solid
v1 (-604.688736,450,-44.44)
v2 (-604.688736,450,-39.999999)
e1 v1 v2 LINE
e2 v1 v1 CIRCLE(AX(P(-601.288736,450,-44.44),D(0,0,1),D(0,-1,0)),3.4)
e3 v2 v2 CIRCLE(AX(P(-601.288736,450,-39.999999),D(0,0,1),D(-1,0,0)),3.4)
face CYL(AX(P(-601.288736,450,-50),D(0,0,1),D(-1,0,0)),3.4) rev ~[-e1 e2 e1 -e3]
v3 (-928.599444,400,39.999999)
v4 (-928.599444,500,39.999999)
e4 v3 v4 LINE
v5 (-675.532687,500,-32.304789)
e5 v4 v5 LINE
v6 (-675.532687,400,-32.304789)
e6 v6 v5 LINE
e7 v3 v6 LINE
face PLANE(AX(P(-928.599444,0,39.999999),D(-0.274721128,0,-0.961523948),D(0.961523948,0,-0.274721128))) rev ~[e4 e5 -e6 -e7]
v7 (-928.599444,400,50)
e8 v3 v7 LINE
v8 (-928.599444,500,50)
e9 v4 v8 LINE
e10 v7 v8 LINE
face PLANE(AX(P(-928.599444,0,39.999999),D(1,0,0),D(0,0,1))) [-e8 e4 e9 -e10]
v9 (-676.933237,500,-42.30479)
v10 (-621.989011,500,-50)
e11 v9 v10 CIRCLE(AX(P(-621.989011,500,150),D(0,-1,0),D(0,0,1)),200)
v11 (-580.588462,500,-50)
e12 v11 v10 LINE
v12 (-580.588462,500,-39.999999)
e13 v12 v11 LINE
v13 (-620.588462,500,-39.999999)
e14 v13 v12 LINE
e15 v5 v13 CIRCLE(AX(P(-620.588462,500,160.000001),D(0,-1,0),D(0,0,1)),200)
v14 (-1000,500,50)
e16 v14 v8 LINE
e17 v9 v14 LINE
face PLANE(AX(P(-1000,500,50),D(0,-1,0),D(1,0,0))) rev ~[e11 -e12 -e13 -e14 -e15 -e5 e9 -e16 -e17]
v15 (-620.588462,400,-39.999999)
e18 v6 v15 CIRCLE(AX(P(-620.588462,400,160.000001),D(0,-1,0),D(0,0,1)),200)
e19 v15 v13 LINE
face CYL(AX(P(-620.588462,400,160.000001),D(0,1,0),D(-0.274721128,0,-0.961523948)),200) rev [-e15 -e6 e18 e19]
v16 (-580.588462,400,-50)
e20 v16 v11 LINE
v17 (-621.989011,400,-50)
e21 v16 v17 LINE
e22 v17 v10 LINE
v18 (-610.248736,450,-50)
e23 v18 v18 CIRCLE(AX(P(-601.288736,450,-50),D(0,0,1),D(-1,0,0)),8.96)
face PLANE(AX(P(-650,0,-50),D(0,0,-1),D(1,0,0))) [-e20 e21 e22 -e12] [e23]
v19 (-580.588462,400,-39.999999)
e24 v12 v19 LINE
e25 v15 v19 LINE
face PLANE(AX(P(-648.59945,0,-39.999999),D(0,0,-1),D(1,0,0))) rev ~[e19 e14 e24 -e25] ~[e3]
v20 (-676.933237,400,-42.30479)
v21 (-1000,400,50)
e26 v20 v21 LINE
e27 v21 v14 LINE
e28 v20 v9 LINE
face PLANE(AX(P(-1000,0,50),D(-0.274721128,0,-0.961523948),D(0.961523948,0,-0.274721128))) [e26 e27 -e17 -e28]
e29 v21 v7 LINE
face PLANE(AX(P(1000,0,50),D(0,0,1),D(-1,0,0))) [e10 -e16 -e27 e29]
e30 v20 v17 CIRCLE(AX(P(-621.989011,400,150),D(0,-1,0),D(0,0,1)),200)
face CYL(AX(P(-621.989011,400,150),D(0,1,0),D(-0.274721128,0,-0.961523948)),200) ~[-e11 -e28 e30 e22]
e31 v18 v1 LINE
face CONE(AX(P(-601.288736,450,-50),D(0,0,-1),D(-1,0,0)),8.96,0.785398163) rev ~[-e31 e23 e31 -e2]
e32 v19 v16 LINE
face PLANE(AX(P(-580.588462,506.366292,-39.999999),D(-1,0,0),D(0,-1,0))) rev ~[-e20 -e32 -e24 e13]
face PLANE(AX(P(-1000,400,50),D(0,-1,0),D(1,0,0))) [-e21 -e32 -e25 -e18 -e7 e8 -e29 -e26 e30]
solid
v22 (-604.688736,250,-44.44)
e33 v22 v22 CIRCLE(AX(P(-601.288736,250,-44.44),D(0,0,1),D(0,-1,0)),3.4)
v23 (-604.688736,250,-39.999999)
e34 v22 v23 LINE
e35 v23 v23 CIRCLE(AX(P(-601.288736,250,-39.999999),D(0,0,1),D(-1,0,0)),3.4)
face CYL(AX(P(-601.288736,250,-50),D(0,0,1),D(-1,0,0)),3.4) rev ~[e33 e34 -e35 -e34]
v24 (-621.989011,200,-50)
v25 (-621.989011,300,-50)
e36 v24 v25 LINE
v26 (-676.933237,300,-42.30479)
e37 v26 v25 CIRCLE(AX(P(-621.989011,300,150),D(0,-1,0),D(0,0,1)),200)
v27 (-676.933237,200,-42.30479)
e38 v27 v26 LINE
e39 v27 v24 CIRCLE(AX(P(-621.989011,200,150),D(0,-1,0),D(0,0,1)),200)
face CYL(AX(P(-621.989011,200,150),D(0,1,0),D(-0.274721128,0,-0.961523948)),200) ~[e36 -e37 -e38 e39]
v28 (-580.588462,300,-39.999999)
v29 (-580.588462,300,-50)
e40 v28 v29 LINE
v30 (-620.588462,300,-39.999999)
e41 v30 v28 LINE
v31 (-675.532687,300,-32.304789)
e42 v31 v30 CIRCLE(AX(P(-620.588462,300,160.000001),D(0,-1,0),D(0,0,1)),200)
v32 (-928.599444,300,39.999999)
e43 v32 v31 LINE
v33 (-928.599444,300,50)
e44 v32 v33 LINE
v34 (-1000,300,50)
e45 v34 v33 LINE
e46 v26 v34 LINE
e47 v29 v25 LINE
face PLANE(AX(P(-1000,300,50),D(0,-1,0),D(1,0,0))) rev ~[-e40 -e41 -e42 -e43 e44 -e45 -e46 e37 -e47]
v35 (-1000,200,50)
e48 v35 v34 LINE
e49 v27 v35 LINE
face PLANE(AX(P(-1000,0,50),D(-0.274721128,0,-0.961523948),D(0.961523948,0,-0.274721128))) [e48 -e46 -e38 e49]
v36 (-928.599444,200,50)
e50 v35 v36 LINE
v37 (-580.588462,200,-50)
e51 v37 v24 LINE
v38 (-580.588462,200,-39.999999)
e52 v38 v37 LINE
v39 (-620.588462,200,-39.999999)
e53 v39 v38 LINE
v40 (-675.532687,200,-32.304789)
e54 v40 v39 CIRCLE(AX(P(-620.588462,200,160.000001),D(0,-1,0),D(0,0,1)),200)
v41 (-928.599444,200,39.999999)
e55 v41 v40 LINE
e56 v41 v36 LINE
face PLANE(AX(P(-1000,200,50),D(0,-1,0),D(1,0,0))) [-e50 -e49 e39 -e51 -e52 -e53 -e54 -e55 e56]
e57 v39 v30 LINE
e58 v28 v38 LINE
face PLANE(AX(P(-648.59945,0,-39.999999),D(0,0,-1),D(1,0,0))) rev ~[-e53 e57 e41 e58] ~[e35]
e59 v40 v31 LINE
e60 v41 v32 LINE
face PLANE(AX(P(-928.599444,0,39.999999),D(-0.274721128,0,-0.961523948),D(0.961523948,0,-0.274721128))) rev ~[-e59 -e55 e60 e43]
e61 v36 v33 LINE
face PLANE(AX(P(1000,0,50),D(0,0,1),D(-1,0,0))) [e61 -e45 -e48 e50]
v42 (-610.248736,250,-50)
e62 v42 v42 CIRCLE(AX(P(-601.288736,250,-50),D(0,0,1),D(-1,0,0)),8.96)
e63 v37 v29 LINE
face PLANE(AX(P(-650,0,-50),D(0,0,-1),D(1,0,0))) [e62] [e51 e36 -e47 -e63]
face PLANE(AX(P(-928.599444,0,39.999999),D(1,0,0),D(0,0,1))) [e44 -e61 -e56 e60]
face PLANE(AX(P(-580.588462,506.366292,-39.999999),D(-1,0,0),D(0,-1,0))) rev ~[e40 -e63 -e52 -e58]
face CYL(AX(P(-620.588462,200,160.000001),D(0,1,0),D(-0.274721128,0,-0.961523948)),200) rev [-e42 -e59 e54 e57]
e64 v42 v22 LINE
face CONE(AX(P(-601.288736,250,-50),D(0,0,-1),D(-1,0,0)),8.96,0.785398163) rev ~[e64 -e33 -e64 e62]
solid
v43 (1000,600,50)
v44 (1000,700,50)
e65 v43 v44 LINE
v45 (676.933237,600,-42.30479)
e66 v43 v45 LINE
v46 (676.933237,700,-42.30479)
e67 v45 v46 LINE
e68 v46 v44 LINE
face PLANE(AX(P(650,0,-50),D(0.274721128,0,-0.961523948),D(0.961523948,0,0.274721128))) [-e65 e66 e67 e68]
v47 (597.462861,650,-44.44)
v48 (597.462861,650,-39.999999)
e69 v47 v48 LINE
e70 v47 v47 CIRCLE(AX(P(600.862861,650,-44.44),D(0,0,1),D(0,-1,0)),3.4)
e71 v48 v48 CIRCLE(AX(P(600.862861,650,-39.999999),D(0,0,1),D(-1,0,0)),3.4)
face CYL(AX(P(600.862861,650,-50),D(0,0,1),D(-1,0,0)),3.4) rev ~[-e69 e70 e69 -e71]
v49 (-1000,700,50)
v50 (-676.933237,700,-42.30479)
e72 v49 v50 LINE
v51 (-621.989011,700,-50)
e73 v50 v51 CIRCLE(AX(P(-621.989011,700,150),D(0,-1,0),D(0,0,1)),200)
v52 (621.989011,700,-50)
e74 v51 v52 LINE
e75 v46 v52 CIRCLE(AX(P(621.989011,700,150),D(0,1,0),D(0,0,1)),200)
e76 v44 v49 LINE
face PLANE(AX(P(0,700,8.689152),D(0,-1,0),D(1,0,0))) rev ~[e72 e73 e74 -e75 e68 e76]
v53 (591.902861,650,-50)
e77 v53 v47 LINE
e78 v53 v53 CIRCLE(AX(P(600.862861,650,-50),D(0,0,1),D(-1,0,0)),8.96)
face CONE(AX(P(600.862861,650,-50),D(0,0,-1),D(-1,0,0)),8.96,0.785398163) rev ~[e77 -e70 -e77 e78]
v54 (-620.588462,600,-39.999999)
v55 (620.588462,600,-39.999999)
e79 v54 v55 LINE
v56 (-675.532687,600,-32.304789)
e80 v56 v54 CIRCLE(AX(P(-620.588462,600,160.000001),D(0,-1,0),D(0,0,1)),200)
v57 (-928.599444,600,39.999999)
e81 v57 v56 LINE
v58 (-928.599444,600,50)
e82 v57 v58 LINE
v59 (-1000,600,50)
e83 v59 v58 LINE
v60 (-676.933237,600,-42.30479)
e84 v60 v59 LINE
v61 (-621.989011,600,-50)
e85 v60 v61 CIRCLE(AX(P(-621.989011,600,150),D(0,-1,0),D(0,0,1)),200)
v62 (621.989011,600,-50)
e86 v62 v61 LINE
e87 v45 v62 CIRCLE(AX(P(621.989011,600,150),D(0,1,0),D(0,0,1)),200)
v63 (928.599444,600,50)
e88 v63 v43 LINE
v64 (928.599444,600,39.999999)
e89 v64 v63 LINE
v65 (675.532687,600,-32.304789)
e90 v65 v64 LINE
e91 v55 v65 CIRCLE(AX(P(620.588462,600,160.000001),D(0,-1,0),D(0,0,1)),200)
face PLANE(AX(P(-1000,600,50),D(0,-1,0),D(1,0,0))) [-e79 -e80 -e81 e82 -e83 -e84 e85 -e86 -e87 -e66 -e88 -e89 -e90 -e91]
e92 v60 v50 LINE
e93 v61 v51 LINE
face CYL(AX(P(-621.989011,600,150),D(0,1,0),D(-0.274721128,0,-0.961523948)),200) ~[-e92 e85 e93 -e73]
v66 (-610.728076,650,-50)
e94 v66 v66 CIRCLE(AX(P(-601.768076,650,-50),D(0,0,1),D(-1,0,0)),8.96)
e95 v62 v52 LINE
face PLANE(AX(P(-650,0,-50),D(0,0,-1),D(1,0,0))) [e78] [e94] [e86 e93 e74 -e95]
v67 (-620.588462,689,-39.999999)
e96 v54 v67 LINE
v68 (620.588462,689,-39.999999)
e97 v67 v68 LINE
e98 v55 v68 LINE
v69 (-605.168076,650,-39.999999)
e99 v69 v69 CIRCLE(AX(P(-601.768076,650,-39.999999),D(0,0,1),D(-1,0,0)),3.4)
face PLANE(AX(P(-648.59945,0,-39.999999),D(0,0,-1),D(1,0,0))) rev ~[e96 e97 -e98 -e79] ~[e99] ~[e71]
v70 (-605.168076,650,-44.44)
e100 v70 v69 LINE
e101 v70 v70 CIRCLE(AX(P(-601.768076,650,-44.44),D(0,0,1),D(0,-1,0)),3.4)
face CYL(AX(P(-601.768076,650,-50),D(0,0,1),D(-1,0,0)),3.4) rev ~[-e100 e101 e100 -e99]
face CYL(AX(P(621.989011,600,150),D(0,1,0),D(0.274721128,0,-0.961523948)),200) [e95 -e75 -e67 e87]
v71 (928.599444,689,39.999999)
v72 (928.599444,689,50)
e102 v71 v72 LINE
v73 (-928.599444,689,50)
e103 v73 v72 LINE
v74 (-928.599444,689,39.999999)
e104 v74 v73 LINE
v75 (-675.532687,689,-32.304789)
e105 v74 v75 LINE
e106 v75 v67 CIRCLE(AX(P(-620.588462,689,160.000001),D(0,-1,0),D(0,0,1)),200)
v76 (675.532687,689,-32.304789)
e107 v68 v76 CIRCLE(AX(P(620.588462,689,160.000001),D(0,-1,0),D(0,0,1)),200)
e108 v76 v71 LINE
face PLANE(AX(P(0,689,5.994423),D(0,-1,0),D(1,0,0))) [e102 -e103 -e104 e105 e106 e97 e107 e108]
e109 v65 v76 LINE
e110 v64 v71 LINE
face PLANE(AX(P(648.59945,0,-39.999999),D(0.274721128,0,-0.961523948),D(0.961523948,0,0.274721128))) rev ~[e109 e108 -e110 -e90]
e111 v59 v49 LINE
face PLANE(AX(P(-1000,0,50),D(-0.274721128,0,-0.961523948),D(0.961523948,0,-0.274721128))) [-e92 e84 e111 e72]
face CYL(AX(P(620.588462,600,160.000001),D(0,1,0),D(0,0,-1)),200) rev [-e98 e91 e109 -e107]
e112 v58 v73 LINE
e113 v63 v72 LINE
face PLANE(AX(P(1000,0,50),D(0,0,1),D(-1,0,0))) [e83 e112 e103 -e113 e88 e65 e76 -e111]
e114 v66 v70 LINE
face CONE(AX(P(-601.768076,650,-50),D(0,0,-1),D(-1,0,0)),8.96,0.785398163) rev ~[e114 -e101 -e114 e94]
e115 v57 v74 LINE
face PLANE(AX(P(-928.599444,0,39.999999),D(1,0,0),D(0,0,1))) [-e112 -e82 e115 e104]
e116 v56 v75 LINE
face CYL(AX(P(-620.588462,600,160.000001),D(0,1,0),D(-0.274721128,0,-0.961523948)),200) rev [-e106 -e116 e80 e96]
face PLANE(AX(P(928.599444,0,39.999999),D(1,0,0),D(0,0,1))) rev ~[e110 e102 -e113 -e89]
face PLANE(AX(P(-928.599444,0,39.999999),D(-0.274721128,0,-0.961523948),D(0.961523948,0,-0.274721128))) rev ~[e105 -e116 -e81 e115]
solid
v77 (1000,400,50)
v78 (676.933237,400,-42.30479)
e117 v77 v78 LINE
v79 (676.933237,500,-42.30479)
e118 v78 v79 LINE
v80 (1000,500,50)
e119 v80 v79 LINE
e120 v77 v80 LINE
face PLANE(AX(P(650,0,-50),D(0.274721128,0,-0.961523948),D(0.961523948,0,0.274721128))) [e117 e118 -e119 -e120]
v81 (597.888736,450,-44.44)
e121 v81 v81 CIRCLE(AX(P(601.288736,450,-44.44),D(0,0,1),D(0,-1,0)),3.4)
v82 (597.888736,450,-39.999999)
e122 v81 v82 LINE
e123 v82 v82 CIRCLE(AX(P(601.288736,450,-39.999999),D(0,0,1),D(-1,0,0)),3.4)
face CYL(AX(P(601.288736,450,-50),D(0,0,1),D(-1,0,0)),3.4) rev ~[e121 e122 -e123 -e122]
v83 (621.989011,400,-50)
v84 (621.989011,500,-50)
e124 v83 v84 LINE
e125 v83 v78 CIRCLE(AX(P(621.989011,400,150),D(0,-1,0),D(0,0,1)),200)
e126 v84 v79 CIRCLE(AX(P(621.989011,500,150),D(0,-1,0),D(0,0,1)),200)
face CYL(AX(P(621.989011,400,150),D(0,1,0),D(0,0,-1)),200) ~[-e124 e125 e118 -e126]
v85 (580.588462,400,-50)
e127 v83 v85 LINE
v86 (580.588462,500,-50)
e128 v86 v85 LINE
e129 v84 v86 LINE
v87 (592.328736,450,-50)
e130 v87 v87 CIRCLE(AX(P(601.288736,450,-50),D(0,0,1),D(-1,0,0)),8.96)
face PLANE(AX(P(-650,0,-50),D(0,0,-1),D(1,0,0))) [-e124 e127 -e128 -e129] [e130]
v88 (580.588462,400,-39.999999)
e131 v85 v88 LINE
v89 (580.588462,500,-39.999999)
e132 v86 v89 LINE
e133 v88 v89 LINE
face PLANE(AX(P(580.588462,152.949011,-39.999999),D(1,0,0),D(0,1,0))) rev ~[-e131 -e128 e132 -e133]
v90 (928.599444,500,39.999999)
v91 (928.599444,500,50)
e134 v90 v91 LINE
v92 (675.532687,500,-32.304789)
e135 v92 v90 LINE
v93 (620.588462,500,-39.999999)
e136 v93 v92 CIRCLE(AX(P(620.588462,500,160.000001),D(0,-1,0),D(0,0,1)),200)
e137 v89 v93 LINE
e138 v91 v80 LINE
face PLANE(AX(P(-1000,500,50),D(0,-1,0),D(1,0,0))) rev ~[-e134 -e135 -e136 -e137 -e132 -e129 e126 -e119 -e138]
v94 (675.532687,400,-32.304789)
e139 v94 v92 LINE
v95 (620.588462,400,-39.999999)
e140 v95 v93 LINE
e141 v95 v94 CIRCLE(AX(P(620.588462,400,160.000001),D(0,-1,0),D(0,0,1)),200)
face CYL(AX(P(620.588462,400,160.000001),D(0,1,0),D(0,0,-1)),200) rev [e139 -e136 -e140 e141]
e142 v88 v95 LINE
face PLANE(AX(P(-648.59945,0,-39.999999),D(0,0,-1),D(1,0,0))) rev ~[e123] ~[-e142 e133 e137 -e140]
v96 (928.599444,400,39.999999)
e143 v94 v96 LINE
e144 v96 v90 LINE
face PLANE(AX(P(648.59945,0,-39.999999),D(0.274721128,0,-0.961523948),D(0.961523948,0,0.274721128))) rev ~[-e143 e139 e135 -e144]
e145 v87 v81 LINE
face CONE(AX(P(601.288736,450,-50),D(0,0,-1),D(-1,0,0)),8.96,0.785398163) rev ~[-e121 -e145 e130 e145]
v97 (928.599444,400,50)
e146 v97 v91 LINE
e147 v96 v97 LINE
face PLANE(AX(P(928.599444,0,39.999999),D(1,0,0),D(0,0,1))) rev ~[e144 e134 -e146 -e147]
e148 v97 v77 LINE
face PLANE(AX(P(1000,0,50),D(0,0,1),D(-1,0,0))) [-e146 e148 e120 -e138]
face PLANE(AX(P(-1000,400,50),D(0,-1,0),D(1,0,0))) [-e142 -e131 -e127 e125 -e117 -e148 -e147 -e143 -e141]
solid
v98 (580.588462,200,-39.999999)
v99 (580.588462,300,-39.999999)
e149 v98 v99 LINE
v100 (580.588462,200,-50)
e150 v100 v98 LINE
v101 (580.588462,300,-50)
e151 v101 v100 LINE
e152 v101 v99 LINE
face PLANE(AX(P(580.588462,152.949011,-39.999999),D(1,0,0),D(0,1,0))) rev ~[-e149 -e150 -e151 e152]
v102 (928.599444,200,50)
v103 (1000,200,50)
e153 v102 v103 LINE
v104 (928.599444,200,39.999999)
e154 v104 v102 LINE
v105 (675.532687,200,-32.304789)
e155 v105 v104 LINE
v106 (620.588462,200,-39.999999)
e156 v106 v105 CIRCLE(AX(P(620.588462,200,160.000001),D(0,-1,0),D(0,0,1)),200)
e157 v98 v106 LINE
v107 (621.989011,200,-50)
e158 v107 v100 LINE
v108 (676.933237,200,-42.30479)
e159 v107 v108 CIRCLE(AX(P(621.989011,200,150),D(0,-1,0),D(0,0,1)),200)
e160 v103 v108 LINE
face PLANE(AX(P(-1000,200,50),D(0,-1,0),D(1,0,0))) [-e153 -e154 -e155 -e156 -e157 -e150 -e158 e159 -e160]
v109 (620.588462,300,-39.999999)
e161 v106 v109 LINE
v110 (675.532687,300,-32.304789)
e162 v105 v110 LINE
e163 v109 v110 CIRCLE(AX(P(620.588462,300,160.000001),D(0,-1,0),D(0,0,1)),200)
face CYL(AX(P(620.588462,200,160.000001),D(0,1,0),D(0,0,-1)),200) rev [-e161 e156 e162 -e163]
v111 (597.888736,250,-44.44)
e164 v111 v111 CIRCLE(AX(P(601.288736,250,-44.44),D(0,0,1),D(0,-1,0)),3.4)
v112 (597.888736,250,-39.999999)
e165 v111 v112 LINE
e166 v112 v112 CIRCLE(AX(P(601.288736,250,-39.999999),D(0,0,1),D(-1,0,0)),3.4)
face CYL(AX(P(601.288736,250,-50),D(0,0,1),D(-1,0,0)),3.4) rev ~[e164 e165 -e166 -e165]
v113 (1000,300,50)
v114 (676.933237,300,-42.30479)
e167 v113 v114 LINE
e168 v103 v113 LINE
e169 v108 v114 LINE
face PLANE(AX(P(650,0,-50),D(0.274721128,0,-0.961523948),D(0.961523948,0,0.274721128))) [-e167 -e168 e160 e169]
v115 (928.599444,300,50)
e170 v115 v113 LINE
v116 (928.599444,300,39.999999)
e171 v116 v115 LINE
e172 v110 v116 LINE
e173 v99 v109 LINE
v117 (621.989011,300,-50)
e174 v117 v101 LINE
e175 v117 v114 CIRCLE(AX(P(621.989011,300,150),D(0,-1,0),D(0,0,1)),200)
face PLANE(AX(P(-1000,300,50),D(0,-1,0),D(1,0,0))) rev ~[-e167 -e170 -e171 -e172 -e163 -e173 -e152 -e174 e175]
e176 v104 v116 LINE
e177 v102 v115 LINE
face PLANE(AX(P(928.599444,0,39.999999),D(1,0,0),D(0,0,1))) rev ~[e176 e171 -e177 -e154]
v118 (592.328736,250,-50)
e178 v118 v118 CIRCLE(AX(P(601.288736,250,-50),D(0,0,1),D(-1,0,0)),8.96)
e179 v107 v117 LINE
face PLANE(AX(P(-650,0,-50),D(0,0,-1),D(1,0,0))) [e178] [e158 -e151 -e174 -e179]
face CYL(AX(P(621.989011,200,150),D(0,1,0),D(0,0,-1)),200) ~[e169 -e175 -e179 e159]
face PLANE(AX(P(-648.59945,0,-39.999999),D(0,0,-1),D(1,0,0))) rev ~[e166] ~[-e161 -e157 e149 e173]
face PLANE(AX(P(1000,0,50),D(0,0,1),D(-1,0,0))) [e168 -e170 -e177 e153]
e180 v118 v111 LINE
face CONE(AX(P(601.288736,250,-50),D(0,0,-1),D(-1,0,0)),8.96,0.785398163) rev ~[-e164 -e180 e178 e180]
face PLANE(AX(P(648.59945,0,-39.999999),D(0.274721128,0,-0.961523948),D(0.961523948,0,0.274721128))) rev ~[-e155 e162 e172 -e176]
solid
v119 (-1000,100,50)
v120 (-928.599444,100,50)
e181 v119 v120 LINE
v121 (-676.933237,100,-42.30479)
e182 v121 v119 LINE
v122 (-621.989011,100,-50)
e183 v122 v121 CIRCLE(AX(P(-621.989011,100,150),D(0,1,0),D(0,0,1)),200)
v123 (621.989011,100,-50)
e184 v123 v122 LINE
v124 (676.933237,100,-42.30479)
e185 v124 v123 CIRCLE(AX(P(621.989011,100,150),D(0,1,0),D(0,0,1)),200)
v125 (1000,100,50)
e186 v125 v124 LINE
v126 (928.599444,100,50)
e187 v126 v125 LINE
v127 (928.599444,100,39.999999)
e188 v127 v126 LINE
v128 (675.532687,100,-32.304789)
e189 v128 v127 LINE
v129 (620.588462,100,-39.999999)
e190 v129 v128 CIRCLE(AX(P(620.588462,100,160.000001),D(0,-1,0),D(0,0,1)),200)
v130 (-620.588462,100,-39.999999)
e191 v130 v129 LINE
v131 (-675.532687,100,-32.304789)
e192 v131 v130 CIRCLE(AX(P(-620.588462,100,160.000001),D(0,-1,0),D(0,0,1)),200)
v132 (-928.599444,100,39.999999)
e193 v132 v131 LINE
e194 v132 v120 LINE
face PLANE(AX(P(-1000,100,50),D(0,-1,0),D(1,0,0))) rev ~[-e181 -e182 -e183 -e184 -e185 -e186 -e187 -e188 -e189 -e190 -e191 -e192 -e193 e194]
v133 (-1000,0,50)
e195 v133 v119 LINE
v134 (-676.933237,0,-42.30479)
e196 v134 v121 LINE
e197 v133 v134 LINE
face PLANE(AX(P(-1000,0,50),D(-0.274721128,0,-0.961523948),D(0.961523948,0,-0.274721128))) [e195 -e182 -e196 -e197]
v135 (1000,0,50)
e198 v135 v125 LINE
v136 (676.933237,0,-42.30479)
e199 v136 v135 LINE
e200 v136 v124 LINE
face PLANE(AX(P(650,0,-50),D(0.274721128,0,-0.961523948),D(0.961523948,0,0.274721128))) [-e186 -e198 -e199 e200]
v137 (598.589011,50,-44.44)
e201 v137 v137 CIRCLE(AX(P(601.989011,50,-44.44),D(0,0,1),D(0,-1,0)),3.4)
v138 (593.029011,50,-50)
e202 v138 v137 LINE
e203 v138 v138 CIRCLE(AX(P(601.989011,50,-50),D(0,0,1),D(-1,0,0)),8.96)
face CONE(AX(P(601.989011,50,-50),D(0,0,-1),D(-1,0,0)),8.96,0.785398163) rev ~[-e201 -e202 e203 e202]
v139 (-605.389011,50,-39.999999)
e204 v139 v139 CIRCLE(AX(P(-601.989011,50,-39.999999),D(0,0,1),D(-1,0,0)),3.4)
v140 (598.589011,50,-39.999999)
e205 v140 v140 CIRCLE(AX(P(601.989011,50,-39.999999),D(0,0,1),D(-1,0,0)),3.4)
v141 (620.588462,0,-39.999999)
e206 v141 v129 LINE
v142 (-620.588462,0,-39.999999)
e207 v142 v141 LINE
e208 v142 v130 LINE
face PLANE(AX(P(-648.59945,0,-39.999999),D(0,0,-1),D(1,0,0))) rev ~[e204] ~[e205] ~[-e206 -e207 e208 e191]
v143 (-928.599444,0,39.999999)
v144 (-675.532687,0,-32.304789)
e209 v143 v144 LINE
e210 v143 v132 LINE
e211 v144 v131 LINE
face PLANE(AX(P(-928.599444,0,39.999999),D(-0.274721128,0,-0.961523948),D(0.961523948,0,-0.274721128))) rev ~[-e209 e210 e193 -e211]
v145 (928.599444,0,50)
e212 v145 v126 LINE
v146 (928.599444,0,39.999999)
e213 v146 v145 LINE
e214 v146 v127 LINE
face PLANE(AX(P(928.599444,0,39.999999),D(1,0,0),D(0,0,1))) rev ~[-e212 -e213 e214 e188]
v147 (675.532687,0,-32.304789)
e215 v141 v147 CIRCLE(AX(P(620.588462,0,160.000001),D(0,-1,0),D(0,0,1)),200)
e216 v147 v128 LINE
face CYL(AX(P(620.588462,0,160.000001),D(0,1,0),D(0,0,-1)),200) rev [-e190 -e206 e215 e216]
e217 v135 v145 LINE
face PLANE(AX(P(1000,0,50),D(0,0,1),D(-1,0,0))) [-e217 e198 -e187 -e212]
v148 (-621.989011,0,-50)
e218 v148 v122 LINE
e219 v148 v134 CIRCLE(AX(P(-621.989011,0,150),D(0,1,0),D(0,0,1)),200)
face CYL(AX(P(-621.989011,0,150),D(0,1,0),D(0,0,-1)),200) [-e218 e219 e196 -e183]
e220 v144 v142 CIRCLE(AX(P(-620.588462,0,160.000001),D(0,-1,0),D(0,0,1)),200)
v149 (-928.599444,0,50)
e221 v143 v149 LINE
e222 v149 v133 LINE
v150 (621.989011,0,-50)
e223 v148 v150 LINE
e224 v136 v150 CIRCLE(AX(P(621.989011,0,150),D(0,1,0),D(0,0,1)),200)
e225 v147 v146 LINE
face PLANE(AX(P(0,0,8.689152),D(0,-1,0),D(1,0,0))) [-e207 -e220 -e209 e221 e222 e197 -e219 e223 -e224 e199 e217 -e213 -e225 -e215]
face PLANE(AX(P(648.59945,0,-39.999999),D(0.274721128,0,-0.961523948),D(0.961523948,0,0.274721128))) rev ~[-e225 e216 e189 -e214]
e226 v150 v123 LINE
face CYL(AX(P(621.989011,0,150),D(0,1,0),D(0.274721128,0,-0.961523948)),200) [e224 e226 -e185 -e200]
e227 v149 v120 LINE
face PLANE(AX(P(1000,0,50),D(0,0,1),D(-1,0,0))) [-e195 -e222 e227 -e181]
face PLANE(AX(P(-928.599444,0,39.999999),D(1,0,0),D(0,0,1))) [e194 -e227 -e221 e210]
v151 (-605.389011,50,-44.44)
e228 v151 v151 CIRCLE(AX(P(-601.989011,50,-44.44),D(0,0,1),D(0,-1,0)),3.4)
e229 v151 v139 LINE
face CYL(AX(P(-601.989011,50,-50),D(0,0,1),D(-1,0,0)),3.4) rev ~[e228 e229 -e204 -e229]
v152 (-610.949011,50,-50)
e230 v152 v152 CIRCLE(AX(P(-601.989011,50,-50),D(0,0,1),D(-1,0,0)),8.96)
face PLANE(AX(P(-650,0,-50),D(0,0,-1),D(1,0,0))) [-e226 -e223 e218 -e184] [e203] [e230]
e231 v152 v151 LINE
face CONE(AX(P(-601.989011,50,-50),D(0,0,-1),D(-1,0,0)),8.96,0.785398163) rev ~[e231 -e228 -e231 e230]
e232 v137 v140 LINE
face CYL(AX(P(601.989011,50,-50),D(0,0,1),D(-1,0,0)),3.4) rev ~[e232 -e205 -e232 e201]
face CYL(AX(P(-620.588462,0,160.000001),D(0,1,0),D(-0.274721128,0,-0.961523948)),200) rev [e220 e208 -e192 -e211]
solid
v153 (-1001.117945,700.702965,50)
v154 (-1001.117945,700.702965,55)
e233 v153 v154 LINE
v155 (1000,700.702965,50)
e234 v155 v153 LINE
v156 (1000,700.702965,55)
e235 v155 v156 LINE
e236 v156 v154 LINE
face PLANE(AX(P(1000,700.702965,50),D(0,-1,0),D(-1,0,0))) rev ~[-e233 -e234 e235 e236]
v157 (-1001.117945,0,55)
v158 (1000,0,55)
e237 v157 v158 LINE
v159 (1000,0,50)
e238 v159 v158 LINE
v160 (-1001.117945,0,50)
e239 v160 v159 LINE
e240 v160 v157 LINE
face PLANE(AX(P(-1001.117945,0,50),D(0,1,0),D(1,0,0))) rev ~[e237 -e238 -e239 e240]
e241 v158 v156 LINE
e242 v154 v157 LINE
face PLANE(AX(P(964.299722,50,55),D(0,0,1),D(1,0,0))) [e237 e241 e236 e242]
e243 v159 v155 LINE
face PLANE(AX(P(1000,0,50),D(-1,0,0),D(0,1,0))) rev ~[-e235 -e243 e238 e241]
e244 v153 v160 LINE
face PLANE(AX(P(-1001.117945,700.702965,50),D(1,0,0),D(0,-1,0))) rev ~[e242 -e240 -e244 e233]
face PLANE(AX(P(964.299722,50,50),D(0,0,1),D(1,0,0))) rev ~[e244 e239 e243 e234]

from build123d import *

# Parameters (mm, degrees)
F1_DEPTH        = 700
F2_W            = 2000
F2_H            = 100
F3_DEPTH        = 680
F4_W            = 1857.1988883398
F4_H            = 10.0000008941
F5_DEPTH        = 689
F7_DEPTH        = 10
F8_R            = 200
F9_R            = 200
F11_W           = 1161.1769230007
F11_H           = 206.3662915144
F11_H_2         = 100
F11_H_3         = 47.0509885464
F12_DEPTH       = 175
F14_D           = 6.8
F14_DEPTH       = 15.75
F14_CSINK_D     = 17.92
F14_CSINK_ANGLE = 90
F14_TIP         = 2.0429261047
F16_D           = 6.8
F16_DEPTH       = 15.75
F16_CSINK_D     = 17.92
F16_CSINK_ANGLE = 90
F16_TIP         = 2.0429261047
F18_D           = 6.8
F18_DEPTH       = 15.75
F18_CSINK_D     = 17.92
F18_CSINK_ANGLE = 90
F18_TIP         = 2.0429261047
F19_W           = 71.4005558301
F19_H           = 100
F20_DEPTH       = 5
F22_D           = 6.8
F22_DEPTH       = 15.75
F22_CSINK_D     = 17.92
F22_CSINK_ANGLE = 90
F22_TIP         = 2.0429261047
F24_D           = 6.8
F24_DEPTH       = 15.75
F24_CSINK_D     = 17.92
F24_CSINK_ANGLE = 90
F24_TIP         = 2.0429261047
F26_D           = 6.8
F26_DEPTH       = 15.75
F26_CSINK_D     = 17.92
F26_CSINK_ANGLE = 90
F26_TIP         = 2.0429261047


with BuildPart() as f1:
    # F0 (on Front) → F1 (new body)
    with BuildSketch(Plane.XZ):
        Polygon((1000, 50), (-1000, 50), (-650, -50), (650, -50), align=None)
    extrude(amount=-F1_DEPTH)

    # F2 (on face) → F3 (cut)
    with BuildSketch(Plane.XY.offset(50)):
        with Locations((0, 550)):
            Rectangle(F2_W, F2_H)
        with Locations((0, 350)):
            Rectangle(F2_W, F2_H)
        with Locations((0, 150)):
            Rectangle(F2_W, F2_H)
    extrude(amount=-F3_DEPTH, mode=Mode.SUBTRACT)

    # F4 (on face) → F5 (cut)
    with BuildSketch(Plane.XZ):
        Polygon((928.5994441699, 39.9999991059), (-928.5994441699, 39.9999991059), (-648.5994504284, -39.9999991059), (648.5994504284, -39.9999991059), align=None)
        with Locations((0, 44.999999553)):
            Rectangle(F4_W, F4_H)
    extrude(amount=-F5_DEPTH, mode=Mode.SUBTRACT)

    # F8
    f8_edges = [f1.edges().sort_by_distance(p)[0] for p in [
        (-650, 250, -50),
        (-650, 50, -50),
        (-650, 450, -50),
        (-650, 650, -50),
        (650, 650, -50),
        (650, 450, -50),
        (650, 250, -50),
        (650, 50, -50),
        (-648.59945, 250, -39.999999),
        (-648.59945, 50, -39.999999),
        (-648.59945, 450, -39.999999),
        (-648.59945, 644.5, -39.999999),
        (648.59945, 250, -39.999999),
        (648.59945, 50, -39.999999),
        (648.59945, 644.5, -39.999999),
    ]]
    fillet(f8_edges, radius=F8_R)

    # F9
    f9_edges = [f1.edges().sort_by_distance(p)[0] for p in [
        (648.59945, 450, -39.999999),
    ]]
    fillet(f9_edges, radius=F9_R)

    # F11 (on face) → F12 (cut)
    with BuildSketch(Plane.XY.offset(-39.9999991059)):
        with Locations((0, 403.1831457572)):
            Rectangle(F11_W, F11_H)
        with Locations((0, 250)):
            Rectangle(F11_W, F11_H_2)
        with Locations((0, 176.4745057268)):
            Rectangle(F11_W, F11_H_3)
    extrude(amount=-F12_DEPTH, mode=Mode.SUBTRACT)

    # F14
    with Locations(Plane(origin=(0, 0, -50), x_dir=(1, 0, 0), z_dir=(0, 0, -1))):
        with Locations((-601.2887362861, -250)):
            CounterSinkHole(F14_D / 2, F14_CSINK_D / 2, depth=F14_DEPTH, counter_sink_angle=F14_CSINK_ANGLE)
            with Locations((0, 0, -(F14_DEPTH + F14_TIP / 2))):  # 118° drill point
                Cone(0, F14_D / 2, F14_TIP, mode=Mode.SUBTRACT)

    # F16
    with Locations(Plane(origin=(0, 0, -50), x_dir=(1, 0, 0), z_dir=(0, 0, -1))):
        with Locations((-601.2887362861, -450)):
            CounterSinkHole(F16_D / 2, F16_CSINK_D / 2, depth=F16_DEPTH, counter_sink_angle=F16_CSINK_ANGLE)
            with Locations((0, 0, -(F16_DEPTH + F16_TIP / 2))):  # 118° drill point
                Cone(0, F16_D / 2, F16_TIP, mode=Mode.SUBTRACT)

    # F18
    with Locations(Plane(origin=(0, 0, -50), x_dir=(1, 0, 0), z_dir=(0, 0, -1))):
        with Locations((-601.7680764198, -650), (600.8628606796, -650)):
            CounterSinkHole(F18_D / 2, F18_CSINK_D / 2, depth=F18_DEPTH, counter_sink_angle=F18_CSINK_ANGLE)
            with Locations((0, 0, -(F18_DEPTH + F18_TIP / 2))):  # 118° drill point
                Cone(0, F18_D / 2, F18_TIP, mode=Mode.SUBTRACT)

    # F22
    with Locations(Plane(origin=(0, 0, -50), x_dir=(1, 0, 0), z_dir=(0, 0, -1))):
        with Locations((601.2887362861, -450)):
            CounterSinkHole(F22_D / 2, F22_CSINK_D / 2, depth=F22_DEPTH, counter_sink_angle=F22_CSINK_ANGLE)
            with Locations((0, 0, -(F22_DEPTH + F22_TIP / 2))):  # 118° drill point
                Cone(0, F22_D / 2, F22_TIP, mode=Mode.SUBTRACT)

    # F24
    with Locations(Plane(origin=(0, 0, -50), x_dir=(1, 0, 0), z_dir=(0, 0, -1))):
        with Locations((601.2887362861, -250)):
            CounterSinkHole(F24_D / 2, F24_CSINK_D / 2, depth=F24_DEPTH, counter_sink_angle=F24_CSINK_ANGLE)
            with Locations((0, 0, -(F24_DEPTH + F24_TIP / 2))):  # 118° drill point
                Cone(0, F24_D / 2, F24_TIP, mode=Mode.SUBTRACT)

    # F26
    with Locations(Plane(origin=(0, 0, -50), x_dir=(1, 0, 0), z_dir=(0, 0, -1))):
        with Locations((601.9890110719, -50), (-601.9890110719, -50)):
            CounterSinkHole(F26_D / 2, F26_CSINK_D / 2, depth=F26_DEPTH, counter_sink_angle=F26_CSINK_ANGLE)
            with Locations((0, 0, -(F26_DEPTH + F26_TIP / 2))):  # 118° drill point
                Cone(0, F26_D / 2, F26_TIP, mode=Mode.SUBTRACT)


with BuildPart() as f7:
    # F6 (on face) → F7 (new body)
    with BuildSketch(Plane.XY.offset(50)):
        Polygon((1000, 700), (-1000, 700), (-1000, 600), (-930.0000071526, 600), (-930.0000071526, 680), (-928.5994441699, 680), (-928.5994441699, 689), (928.5994441699, 689), (928.5994441699, 680), (930.3787350655, 680), (930.3787350655, 600), (1000, 600), align=None)
        Polygon((1000.3787279129, 700), (1000, 700), (1000, 600), (930.3787350655, 600), (930.3787350655, 20), (-930.0000071526, 20), (-930.0000071526, 600), (-1000, 600), (-1000, 0), (1000.3787279129, 0), align=None)
    extrude(amount=F7_DEPTH)


with BuildPart() as f20:
    # F19 (on face) → F20 (new body)
    with BuildSketch(Plane.XY.offset(50)):
        with Locations((964.2997220849, 50)):
            Rectangle(F19_W, F19_H)
        Polygon((-1001.1179447174, 0), (928.5994441699, 0), (928.5994441699, 100), (1000, 100), (1000, 700.7029652596), (-1001.1179447174, 700.7029652596), align=None)
    extrude(amount=F20_DEPTH)


solid = Compound([f1.part, f20.part])
